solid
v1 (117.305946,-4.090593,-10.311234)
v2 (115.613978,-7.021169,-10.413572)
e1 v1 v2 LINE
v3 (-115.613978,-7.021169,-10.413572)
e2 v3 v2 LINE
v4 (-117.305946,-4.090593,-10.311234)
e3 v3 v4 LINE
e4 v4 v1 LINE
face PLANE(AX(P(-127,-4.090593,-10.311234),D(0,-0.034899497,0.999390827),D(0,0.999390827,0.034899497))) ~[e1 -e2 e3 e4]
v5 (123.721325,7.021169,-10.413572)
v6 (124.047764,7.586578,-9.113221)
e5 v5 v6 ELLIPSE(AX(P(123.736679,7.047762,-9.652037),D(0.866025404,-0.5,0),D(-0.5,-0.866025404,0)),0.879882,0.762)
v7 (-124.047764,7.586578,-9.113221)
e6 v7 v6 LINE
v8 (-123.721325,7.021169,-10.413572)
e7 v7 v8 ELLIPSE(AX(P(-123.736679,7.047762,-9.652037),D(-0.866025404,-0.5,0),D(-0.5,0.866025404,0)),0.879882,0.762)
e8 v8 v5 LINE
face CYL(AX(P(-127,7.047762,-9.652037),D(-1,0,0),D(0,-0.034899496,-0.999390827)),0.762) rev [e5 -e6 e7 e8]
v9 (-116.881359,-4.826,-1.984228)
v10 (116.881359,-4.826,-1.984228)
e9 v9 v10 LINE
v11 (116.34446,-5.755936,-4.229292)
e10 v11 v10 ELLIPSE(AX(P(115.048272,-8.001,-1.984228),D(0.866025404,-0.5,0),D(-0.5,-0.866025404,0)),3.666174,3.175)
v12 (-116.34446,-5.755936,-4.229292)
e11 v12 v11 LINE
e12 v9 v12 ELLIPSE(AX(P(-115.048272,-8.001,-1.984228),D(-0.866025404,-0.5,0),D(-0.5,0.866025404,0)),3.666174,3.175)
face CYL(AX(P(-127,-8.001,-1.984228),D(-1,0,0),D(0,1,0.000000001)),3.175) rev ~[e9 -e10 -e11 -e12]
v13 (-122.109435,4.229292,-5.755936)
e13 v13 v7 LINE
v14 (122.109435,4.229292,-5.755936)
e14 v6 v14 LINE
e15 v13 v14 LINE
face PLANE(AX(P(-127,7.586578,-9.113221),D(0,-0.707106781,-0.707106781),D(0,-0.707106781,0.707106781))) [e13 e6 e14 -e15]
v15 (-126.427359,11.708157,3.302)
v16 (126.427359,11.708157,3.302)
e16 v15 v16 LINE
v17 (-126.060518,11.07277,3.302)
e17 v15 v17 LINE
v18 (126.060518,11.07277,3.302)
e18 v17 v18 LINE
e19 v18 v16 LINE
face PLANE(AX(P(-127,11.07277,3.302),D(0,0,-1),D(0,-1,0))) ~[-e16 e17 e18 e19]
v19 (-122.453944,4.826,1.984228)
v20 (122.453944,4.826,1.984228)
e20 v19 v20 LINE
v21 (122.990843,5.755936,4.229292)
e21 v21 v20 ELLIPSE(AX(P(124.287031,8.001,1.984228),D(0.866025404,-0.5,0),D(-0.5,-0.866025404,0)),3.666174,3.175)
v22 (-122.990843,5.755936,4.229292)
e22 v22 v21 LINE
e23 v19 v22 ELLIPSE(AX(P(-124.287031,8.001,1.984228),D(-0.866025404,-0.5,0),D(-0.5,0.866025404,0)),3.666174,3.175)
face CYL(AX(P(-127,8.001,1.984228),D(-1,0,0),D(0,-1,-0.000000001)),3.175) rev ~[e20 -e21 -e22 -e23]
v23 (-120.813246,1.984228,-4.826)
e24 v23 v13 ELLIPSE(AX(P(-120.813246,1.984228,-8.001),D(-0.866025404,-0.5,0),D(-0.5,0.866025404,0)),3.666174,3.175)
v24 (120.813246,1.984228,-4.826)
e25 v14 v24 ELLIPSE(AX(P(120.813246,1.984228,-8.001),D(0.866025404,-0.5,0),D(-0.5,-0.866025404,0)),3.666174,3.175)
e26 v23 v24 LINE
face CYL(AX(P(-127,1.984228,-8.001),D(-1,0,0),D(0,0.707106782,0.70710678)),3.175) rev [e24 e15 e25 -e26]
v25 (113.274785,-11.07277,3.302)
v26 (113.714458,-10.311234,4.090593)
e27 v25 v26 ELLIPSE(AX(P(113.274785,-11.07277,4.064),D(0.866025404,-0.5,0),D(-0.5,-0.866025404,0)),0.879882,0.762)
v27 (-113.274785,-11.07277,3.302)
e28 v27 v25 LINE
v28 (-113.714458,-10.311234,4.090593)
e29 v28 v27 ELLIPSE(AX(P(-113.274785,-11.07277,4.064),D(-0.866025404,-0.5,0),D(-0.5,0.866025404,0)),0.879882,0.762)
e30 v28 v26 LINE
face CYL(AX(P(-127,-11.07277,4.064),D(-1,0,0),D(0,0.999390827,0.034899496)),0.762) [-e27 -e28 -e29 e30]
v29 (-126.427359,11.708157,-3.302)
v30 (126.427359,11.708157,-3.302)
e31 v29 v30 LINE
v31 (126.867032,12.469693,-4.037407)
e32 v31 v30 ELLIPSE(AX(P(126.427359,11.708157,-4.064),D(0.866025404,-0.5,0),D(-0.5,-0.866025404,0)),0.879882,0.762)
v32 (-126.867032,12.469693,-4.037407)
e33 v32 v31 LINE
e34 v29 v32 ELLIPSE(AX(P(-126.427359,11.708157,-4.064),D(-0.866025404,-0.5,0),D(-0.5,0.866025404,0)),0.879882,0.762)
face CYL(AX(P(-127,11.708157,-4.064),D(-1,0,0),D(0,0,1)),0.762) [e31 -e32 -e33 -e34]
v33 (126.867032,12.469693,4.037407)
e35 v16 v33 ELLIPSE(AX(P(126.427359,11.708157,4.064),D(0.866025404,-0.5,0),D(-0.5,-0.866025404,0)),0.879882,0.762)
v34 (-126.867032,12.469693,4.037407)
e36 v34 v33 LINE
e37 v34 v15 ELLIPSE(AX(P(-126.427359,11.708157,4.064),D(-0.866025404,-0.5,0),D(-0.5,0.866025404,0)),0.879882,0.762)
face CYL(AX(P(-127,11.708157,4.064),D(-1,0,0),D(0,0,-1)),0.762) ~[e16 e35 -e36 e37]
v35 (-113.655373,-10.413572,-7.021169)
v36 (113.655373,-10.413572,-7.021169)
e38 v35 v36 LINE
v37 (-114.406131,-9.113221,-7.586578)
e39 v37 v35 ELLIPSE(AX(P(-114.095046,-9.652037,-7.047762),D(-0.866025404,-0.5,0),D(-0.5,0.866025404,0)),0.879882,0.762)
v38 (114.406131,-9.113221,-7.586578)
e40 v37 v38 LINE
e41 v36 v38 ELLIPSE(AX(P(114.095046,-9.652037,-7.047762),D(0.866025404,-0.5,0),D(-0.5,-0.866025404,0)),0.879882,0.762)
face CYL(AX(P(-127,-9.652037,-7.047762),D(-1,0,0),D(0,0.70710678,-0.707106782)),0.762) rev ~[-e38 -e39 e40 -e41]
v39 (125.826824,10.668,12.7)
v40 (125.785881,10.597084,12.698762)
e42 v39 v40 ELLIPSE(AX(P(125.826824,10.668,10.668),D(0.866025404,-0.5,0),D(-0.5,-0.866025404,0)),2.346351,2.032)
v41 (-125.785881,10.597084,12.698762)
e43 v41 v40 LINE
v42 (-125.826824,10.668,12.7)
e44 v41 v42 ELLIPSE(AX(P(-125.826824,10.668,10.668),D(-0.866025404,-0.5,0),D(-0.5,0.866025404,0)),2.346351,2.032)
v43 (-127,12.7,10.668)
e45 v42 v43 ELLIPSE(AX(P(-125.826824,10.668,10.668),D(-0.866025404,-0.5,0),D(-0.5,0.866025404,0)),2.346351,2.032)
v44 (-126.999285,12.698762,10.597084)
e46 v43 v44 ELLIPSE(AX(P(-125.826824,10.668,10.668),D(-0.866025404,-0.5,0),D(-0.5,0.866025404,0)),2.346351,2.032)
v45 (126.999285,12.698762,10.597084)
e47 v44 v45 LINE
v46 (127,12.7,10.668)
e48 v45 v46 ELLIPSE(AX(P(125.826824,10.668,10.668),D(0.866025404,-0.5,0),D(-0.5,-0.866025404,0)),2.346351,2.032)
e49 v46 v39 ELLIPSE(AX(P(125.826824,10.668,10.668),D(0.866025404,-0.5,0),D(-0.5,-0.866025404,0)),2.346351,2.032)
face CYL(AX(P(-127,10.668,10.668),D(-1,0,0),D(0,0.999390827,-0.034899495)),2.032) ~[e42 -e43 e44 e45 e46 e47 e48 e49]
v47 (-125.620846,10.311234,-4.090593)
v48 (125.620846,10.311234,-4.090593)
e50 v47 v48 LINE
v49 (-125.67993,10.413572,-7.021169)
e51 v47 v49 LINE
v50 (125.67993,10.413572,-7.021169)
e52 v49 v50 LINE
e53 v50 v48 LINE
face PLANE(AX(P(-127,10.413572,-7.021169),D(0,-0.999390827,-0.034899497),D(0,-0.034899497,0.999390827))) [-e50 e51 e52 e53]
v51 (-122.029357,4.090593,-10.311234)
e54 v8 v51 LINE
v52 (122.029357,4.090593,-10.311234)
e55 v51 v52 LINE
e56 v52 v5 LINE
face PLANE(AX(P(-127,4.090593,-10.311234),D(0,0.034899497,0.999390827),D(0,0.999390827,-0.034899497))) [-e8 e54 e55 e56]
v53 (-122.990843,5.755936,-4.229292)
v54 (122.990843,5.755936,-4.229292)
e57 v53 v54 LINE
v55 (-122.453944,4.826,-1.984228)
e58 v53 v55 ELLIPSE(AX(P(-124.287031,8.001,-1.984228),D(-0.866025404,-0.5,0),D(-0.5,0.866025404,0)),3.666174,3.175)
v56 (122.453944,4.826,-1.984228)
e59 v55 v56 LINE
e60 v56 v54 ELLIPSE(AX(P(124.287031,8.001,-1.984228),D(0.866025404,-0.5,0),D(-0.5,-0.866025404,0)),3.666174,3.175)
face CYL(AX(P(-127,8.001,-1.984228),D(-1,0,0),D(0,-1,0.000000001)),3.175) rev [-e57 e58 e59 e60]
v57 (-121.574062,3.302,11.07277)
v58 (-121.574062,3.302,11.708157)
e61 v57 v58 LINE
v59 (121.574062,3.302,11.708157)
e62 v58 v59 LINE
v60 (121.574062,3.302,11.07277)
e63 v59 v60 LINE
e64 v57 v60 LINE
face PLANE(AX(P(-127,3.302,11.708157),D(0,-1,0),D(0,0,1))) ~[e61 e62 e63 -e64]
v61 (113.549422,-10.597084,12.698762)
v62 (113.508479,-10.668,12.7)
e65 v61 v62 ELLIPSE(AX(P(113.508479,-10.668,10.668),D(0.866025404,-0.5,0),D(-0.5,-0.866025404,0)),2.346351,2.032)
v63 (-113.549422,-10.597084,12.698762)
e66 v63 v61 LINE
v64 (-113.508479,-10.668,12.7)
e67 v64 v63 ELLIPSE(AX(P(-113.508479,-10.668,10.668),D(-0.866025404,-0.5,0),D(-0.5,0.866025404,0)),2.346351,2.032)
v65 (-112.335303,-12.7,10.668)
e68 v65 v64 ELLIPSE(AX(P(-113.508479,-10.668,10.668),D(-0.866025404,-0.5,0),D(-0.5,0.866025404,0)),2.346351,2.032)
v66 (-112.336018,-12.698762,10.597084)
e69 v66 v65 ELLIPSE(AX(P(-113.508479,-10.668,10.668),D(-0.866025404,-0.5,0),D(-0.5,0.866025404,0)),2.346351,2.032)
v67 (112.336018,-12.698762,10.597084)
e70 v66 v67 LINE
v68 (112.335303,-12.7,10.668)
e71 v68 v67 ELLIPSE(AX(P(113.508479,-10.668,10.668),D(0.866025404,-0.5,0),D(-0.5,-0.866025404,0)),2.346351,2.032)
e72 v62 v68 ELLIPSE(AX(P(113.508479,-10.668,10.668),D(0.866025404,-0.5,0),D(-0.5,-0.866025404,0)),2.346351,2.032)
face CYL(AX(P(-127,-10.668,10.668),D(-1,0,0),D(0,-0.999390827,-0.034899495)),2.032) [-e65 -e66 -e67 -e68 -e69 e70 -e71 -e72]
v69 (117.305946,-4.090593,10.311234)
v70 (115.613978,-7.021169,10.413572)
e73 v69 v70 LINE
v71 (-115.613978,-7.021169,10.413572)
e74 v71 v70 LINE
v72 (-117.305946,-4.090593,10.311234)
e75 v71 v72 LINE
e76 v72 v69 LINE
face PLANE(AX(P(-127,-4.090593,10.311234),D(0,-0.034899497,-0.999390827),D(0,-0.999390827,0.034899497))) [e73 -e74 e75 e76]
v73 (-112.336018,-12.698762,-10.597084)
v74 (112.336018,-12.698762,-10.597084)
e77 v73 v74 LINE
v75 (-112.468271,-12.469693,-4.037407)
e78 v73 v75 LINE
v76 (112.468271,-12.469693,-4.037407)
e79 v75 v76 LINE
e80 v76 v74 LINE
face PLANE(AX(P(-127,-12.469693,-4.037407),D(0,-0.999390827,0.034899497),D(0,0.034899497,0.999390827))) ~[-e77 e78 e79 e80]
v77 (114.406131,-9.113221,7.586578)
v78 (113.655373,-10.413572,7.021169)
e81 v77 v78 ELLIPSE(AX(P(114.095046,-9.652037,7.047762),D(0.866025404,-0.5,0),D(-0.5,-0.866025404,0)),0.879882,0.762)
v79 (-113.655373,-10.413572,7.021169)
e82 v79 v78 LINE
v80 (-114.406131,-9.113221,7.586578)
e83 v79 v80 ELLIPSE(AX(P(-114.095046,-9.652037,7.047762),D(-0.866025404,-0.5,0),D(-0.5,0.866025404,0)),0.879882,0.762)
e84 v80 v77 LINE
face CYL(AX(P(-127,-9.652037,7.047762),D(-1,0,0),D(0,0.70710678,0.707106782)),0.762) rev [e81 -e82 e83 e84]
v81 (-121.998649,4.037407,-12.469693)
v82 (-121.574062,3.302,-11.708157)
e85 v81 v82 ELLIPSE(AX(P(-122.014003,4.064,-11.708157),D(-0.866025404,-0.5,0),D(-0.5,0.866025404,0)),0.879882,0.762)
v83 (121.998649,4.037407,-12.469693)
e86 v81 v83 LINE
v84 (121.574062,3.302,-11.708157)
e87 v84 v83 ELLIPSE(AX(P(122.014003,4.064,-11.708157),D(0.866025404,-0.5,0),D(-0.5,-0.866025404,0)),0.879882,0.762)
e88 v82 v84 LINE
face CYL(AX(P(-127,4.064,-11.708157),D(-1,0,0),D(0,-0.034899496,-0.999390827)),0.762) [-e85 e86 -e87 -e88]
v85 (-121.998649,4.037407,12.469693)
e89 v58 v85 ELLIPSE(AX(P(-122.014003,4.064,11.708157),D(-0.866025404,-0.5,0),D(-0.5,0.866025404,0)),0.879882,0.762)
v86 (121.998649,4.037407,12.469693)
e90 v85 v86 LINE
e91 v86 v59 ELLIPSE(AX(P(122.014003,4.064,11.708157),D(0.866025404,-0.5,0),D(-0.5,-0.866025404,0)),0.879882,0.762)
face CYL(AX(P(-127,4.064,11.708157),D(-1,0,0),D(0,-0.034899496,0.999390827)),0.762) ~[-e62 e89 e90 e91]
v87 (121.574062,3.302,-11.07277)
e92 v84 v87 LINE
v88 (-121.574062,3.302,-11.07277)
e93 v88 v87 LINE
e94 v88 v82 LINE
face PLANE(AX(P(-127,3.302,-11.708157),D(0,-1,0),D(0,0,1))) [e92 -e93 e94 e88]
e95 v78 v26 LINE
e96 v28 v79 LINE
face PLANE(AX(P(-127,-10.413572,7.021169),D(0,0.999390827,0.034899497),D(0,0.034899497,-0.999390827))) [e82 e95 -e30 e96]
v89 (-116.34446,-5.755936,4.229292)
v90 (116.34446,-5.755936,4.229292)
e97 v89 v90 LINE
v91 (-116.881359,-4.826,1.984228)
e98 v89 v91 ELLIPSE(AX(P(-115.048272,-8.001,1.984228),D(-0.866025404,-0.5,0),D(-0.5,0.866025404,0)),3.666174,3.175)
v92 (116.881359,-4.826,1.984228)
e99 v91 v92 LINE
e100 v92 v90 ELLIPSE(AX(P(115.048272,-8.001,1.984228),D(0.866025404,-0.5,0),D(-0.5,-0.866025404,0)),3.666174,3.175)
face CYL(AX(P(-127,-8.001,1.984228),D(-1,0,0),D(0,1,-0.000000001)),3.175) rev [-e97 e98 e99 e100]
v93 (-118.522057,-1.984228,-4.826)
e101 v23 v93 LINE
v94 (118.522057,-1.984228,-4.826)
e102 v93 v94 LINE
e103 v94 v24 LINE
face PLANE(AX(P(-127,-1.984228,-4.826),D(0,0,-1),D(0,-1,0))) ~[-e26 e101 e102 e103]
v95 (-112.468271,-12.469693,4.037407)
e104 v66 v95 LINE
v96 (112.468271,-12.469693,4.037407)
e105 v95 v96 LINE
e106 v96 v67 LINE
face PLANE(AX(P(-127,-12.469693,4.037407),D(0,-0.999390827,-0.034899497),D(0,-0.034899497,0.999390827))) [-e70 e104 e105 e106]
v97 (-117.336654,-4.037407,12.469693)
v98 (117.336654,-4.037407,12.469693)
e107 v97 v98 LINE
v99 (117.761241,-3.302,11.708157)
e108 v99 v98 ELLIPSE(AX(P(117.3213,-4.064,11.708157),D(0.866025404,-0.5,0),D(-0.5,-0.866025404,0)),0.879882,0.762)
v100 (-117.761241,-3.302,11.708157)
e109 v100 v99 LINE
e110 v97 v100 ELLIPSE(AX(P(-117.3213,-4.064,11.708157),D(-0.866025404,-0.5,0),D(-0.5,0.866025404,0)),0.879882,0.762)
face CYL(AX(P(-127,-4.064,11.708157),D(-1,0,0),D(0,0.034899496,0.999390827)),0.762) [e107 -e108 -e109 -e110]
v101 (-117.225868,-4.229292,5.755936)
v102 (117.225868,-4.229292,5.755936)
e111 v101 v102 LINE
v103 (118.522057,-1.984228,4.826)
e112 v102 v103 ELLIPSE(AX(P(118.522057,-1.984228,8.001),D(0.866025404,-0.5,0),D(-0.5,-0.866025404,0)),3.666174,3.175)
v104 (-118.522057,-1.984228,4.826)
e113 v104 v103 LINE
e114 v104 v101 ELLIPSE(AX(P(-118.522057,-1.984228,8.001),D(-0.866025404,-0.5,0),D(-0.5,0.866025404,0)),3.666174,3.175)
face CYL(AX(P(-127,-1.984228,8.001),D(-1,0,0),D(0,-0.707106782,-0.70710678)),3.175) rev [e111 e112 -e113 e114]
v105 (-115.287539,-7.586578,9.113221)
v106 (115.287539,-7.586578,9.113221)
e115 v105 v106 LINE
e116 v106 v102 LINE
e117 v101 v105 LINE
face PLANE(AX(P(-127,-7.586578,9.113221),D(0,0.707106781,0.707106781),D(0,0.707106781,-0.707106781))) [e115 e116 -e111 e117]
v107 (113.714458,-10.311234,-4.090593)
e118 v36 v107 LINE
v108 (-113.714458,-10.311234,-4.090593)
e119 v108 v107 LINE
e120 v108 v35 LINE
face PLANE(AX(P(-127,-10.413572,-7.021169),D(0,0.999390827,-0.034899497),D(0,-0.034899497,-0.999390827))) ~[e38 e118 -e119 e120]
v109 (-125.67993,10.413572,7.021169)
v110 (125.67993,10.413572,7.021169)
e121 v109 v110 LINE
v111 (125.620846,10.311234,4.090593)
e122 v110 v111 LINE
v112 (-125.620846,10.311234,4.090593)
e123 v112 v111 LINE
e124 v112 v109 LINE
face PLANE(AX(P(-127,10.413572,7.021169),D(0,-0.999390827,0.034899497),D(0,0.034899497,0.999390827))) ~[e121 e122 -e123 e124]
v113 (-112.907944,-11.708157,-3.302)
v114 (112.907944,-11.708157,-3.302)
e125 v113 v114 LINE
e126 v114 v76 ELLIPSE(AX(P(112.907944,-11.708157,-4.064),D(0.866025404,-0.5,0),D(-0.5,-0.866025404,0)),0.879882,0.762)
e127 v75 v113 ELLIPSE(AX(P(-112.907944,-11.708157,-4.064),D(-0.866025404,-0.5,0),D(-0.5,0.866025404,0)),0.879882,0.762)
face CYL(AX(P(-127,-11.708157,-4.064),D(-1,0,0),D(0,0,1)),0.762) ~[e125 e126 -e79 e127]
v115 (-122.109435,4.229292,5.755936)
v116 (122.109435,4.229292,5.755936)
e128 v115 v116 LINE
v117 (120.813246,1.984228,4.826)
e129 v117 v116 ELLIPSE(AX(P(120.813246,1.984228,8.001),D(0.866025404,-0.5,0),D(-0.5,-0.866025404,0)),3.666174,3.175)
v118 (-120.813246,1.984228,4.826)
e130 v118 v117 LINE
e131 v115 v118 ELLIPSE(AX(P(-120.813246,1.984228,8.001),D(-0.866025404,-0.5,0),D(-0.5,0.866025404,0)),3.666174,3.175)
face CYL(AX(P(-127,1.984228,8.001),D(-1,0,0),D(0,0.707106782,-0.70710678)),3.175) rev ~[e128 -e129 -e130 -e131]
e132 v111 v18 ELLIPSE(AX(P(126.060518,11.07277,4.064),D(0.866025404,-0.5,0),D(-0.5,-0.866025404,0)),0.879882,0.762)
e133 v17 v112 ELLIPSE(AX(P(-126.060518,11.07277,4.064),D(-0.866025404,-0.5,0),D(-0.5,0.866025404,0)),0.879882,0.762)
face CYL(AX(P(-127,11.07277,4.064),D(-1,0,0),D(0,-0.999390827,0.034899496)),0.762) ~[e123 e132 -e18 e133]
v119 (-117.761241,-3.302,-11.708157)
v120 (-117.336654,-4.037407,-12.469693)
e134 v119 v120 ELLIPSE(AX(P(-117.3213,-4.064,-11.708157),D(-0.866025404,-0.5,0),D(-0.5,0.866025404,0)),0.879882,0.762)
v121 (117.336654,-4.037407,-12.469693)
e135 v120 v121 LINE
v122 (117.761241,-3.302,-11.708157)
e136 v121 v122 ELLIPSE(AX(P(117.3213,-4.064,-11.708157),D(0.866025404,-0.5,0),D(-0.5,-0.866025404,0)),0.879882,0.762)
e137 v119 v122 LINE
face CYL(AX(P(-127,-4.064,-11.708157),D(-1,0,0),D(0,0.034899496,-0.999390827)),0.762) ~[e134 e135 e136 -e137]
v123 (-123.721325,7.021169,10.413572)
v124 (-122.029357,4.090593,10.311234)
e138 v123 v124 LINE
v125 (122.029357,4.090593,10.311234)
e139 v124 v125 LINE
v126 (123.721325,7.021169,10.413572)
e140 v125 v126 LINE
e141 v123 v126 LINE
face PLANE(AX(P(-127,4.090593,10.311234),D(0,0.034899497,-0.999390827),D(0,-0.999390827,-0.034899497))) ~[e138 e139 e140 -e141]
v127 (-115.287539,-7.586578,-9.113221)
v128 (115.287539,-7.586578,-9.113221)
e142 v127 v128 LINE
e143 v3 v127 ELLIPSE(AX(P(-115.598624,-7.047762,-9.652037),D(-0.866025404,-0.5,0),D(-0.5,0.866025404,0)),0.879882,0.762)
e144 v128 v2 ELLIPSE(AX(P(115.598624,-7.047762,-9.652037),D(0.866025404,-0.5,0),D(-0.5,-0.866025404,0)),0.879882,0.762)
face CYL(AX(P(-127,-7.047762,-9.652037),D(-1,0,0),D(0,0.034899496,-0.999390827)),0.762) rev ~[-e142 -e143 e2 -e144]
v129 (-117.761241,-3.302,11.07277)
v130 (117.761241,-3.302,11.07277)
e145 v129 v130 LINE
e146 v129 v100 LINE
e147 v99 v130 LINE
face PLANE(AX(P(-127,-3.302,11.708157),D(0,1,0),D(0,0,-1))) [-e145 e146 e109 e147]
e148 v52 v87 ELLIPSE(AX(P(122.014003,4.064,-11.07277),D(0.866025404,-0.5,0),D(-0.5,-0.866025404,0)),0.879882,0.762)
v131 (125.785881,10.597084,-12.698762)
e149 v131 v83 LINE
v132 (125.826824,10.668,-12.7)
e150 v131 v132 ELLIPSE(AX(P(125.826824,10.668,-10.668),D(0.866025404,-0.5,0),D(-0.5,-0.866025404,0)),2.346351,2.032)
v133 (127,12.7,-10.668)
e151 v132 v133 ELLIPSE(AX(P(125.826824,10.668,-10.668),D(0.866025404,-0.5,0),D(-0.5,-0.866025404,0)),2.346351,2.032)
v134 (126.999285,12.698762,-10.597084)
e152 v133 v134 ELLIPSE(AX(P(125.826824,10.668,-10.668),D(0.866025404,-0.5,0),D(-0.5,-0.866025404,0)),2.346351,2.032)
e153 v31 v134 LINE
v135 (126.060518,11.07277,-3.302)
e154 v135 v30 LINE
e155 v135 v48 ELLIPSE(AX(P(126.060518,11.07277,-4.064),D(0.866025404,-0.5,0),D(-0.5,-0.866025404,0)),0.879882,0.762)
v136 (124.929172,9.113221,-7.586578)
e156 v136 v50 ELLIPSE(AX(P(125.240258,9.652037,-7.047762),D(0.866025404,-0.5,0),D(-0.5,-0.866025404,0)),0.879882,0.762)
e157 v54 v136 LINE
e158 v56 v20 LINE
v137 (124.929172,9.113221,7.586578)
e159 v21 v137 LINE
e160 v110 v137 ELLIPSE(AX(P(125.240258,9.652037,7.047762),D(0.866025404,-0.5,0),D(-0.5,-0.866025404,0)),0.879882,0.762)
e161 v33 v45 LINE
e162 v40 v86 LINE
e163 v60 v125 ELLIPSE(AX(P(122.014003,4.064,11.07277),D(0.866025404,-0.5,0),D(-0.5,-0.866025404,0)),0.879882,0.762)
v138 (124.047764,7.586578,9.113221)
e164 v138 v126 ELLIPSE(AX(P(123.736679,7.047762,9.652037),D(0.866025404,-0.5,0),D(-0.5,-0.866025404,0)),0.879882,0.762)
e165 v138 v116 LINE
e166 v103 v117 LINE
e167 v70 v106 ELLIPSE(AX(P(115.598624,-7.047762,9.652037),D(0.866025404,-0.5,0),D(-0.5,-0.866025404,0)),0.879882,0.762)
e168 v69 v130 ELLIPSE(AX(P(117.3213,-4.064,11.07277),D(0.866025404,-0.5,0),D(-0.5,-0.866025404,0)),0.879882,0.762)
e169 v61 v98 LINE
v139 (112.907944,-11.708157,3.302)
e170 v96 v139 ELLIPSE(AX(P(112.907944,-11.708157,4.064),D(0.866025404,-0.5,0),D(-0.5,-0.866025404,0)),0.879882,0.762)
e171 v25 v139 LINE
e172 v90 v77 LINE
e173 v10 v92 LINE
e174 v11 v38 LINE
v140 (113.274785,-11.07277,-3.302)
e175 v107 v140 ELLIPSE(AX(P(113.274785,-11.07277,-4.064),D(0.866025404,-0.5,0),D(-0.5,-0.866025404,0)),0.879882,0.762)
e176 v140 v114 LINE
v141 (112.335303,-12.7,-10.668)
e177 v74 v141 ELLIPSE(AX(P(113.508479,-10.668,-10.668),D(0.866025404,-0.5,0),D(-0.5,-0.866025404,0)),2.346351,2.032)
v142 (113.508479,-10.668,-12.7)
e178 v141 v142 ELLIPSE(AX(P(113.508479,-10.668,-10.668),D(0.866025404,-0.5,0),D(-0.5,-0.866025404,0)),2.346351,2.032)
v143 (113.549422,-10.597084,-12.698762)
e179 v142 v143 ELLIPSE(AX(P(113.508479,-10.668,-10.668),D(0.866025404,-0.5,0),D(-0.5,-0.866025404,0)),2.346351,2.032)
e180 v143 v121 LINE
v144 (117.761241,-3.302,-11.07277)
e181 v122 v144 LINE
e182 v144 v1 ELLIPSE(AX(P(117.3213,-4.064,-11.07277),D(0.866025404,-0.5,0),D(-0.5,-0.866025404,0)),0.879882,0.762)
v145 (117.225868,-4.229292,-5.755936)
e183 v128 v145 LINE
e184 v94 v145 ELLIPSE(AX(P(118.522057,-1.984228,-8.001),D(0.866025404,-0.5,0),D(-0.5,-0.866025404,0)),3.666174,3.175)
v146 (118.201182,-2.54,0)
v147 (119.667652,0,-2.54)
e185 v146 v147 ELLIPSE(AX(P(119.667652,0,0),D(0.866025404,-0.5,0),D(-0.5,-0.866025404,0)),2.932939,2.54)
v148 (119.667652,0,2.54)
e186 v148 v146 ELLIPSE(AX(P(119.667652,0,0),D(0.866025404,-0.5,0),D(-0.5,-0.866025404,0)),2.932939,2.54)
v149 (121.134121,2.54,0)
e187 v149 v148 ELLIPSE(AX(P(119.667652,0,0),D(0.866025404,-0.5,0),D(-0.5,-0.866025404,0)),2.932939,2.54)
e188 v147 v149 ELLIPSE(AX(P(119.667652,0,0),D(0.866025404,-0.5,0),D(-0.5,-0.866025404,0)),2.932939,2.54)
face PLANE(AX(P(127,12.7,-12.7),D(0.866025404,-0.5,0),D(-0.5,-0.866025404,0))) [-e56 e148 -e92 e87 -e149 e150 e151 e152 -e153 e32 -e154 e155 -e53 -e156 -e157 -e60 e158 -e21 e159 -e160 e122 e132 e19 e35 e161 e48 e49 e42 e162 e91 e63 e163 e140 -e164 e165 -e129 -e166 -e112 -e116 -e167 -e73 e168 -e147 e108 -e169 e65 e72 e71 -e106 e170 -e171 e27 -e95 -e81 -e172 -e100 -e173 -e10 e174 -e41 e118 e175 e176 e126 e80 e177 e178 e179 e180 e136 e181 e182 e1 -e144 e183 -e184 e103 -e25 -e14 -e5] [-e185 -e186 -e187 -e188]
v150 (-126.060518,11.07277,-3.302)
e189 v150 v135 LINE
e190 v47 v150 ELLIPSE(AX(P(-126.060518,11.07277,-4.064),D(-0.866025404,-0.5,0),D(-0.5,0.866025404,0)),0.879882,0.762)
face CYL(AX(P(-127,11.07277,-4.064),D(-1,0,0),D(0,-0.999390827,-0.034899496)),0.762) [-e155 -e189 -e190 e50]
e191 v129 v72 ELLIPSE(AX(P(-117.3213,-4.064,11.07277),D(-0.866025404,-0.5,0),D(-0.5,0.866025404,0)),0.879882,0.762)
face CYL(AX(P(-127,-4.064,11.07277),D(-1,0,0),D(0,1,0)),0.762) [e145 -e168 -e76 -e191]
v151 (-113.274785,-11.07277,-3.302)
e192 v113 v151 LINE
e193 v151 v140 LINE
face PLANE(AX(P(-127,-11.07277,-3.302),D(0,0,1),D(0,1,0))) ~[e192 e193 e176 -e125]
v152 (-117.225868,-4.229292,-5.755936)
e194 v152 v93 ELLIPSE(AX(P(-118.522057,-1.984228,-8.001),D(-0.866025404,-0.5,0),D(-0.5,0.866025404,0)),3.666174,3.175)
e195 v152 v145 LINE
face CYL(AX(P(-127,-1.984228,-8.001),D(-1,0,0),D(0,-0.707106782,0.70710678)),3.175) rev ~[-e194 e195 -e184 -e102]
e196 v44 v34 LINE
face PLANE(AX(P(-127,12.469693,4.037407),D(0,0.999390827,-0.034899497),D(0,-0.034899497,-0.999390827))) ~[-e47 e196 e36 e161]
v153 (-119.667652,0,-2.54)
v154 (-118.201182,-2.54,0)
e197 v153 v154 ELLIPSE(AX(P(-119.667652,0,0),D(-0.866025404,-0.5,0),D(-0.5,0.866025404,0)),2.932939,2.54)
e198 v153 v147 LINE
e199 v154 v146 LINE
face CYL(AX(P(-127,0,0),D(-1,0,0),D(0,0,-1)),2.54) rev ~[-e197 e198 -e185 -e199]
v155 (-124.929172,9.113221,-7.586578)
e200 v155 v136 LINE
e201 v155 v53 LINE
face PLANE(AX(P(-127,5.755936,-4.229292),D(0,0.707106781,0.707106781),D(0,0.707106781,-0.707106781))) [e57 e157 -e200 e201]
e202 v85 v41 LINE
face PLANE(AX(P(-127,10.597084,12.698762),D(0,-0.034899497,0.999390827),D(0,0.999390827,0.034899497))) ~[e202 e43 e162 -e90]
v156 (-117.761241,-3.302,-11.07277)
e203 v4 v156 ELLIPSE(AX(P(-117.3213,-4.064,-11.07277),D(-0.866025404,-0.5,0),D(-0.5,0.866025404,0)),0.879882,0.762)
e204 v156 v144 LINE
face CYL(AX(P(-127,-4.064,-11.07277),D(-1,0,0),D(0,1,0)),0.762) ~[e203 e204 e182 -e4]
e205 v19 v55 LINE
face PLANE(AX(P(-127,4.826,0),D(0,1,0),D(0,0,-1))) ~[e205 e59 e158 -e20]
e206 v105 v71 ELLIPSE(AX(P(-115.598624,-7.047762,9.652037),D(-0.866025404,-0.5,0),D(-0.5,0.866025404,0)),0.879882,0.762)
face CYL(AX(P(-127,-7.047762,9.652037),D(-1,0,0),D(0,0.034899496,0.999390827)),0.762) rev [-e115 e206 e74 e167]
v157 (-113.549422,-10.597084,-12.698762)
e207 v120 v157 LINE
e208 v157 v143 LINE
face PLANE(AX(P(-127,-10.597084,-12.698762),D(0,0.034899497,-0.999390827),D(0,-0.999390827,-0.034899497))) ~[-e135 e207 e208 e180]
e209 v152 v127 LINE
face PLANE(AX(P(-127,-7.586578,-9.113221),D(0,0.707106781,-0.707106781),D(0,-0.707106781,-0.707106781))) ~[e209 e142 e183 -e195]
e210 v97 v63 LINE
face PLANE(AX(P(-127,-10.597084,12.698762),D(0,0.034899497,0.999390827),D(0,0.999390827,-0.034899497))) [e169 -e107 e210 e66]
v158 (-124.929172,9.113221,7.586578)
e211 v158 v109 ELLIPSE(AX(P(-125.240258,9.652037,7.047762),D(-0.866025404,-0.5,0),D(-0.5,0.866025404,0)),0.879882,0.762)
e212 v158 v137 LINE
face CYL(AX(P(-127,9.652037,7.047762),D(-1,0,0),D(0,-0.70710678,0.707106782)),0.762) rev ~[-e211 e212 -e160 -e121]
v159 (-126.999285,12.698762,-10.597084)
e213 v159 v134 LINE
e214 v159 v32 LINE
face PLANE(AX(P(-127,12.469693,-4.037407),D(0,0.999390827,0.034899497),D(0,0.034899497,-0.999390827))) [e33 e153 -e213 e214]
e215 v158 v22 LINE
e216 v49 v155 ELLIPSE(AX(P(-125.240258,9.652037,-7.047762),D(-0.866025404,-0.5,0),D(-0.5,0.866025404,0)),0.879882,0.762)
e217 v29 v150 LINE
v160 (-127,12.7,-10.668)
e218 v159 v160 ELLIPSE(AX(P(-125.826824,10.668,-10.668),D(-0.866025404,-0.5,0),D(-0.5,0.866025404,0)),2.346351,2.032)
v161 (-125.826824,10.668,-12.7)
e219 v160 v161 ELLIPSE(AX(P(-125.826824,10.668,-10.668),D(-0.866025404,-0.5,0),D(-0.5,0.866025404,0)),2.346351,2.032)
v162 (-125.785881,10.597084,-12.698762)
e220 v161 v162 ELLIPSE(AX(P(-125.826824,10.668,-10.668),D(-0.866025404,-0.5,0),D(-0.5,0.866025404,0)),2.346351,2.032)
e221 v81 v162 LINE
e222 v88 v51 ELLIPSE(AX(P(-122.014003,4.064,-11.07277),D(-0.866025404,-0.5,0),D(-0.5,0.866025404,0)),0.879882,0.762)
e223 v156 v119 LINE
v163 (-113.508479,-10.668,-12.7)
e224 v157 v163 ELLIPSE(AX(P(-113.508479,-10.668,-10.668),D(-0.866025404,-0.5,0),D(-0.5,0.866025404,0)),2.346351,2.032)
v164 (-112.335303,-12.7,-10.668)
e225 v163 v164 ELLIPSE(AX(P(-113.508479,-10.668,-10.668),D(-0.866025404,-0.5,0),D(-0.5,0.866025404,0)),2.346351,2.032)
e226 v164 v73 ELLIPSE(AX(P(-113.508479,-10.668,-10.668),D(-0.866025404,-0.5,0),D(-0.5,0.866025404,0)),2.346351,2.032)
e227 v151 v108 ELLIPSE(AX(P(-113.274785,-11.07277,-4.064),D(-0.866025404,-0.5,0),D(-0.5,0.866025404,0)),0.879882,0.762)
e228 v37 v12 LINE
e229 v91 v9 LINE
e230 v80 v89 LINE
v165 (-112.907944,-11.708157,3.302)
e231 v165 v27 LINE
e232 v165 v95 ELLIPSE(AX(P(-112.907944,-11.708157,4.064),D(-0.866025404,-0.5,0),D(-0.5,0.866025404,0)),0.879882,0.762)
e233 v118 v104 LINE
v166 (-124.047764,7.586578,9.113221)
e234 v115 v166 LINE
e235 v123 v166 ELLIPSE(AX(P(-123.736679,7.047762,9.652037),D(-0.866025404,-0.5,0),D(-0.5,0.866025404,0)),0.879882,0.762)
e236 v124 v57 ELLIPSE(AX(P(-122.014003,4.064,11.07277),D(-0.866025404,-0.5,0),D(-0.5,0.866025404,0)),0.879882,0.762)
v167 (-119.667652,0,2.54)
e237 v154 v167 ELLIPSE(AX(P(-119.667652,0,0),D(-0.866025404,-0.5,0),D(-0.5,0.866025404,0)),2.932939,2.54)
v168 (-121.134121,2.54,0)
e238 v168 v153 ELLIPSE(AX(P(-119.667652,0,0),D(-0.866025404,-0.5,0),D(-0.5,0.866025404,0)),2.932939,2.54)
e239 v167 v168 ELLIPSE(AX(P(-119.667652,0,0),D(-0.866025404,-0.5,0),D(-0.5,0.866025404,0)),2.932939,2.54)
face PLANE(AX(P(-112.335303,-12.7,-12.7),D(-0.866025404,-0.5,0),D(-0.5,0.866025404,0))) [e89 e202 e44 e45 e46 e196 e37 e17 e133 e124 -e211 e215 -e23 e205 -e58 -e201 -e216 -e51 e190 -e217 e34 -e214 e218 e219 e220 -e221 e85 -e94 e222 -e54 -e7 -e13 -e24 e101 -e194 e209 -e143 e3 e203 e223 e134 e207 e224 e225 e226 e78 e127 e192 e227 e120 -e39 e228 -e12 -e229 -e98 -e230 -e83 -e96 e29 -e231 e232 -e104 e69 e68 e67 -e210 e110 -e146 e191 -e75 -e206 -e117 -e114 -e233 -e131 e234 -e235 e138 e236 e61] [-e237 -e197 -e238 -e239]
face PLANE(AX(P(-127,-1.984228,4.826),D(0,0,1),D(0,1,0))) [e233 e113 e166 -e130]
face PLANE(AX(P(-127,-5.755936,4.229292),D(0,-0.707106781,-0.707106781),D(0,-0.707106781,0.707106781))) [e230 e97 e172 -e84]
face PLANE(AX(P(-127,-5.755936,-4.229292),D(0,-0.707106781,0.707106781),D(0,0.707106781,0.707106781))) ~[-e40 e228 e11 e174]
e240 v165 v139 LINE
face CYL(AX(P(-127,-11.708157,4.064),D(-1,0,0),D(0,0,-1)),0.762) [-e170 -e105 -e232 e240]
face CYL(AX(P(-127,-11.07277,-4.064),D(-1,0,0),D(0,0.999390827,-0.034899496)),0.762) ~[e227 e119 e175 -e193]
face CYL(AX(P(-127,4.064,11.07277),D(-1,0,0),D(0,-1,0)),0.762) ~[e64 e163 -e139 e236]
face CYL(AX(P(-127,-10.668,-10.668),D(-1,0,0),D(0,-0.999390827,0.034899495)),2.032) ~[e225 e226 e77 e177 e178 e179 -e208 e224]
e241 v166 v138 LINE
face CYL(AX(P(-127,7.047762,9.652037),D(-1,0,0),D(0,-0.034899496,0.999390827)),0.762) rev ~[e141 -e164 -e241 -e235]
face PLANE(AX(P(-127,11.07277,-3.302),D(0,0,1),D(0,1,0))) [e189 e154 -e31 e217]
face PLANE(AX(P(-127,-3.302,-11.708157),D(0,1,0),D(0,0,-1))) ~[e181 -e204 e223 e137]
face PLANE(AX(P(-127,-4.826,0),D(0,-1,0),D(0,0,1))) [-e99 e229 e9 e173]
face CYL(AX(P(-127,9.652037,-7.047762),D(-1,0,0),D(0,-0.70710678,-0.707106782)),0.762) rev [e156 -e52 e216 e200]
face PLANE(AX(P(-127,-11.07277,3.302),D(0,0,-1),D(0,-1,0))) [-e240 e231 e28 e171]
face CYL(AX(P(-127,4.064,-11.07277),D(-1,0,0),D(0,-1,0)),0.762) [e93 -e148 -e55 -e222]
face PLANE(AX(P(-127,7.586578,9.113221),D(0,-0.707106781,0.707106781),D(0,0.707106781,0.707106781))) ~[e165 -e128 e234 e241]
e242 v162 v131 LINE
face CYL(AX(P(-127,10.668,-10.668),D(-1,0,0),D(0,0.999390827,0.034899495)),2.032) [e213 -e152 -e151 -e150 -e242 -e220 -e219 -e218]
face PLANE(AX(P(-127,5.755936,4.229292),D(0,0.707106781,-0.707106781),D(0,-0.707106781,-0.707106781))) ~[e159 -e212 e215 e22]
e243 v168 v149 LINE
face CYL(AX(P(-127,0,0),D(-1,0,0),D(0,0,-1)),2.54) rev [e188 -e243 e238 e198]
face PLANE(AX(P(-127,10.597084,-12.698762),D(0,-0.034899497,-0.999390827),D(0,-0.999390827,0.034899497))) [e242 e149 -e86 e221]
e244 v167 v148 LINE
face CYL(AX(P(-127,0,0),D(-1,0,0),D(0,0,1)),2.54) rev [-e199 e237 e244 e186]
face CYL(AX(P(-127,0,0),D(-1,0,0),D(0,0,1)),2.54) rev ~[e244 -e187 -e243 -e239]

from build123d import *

# Parameters (mm, degrees)
BOSS_EXTRUDE1_DEPTH      = 127
BOSS_EXTRUDE1_DEPTH_BACK = 127
CUT_EXTRUDE1_DEPTH       = 12.7
CUT_EXTRUDE1_DEPTH_BACK  = 12.7


with BuildPart() as part:
    # Sketch3 → Boss-Extrude1 (new, two sides: drawn at the far end of the back side and taken through both)
    with BuildSketch(Plane(origin=(0, 0, 0), x_dir=(0, 0, -1), z_dir=(1, 0, 0)).offset(-BOSS_EXTRUDE1_DEPTH_BACK)):
        with BuildLine():
            Line((0, 4.826), (1.984228399, 4.826))
            ThreePointArc((1.984228399, 4.826), (3.199248297, 5.067682484), (4.229292429, 5.75593597))
            Line((4.229292429, 5.75593597), (7.586577723, 9.113221264))
            ThreePointArc((7.586577723, 9.113221264), (7.746562132, 9.955883421), (7.021168939, 10.413572441))
            Line((7.021168939, 10.413572441), (4.090593416, 10.311234489))
            ThreePointArc((4.090593416, 10.311234489), (3.534670322, 10.524633371), (3.302, 11.072770299))
            Line((3.302, 11.072770299), (3.302, 11.70815736))
            ThreePointArc((3.302, 11.70815736), (3.515863072, 12.237487038), (4.037406584, 12.46969317))
            Line((4.037406584, 12.46969317), (10.597084223, 12.698762161))
            ThreePointArc((10.597084223, 12.698762161), (12.104840979, 12.104840979), (12.698762161, 10.597084223))
            Line((12.698762161, 10.597084223), (12.46969317, 4.037406584))
            ThreePointArc((12.46969317, 4.037406584), (12.237487038, 3.515863072), (11.70815736, 3.302))
            Line((11.70815736, 3.302), (11.072770299, 3.302))
            ThreePointArc((11.072770299, 3.302), (10.524633371, 3.534670322), (10.311234489, 4.090593416))
            Line((10.311234489, 4.090593416), (10.413572441, 7.021168939))
            ThreePointArc((10.413572441, 7.021168939), (9.955883421, 7.746562132), (9.113221264, 7.586577723))
            Line((9.113221264, 7.586577723), (5.75593597, 4.229292429))
            ThreePointArc((5.75593597, 4.229292429), (5.067682484, 3.199248297), (4.826, 1.984228399))
            Line((4.826, 1.984228399), (4.826, 0))
            Line((4.826, 0), (2.54, 0))
            ThreePointArc((2.54, 0), (1.796051224, 1.796051224), (0, 2.54))
            Line((0, 2.54), (0, 4.826))
        make_face()
    extrude(amount=BOSS_EXTRUDE1_DEPTH + BOSS_EXTRUDE1_DEPTH_BACK)

    # Mirror1: part across plane


with BuildPart() as part_1:
    add(part.part)
    add(part.part.mirror(Plane.ZX))

    # Mirror2: part across plane


with BuildPart() as part_2:
    add(part_1.part)
    add(part_1.part.mirror(Plane.XY))

    # Sketch4 → Cut-Extrude1 (cut, two sides: drawn at the far end of the back side and taken through both)
    with BuildSketch(Plane.XY.offset(-CUT_EXTRUDE1_DEPTH_BACK)):
        Polygon((-129.54, -38.1), (129.54, -38.1), (129.54, 12.7), (127, 12.7), (112.335303163, -12.7), (-112.335303163, -12.7), (-127, 12.7), (-129.54, 12.7), align=None)
    extrude(amount=CUT_EXTRUDE1_DEPTH + CUT_EXTRUDE1_DEPTH_BACK, mode=Mode.SUBTRACT)


solid = part_2.part
